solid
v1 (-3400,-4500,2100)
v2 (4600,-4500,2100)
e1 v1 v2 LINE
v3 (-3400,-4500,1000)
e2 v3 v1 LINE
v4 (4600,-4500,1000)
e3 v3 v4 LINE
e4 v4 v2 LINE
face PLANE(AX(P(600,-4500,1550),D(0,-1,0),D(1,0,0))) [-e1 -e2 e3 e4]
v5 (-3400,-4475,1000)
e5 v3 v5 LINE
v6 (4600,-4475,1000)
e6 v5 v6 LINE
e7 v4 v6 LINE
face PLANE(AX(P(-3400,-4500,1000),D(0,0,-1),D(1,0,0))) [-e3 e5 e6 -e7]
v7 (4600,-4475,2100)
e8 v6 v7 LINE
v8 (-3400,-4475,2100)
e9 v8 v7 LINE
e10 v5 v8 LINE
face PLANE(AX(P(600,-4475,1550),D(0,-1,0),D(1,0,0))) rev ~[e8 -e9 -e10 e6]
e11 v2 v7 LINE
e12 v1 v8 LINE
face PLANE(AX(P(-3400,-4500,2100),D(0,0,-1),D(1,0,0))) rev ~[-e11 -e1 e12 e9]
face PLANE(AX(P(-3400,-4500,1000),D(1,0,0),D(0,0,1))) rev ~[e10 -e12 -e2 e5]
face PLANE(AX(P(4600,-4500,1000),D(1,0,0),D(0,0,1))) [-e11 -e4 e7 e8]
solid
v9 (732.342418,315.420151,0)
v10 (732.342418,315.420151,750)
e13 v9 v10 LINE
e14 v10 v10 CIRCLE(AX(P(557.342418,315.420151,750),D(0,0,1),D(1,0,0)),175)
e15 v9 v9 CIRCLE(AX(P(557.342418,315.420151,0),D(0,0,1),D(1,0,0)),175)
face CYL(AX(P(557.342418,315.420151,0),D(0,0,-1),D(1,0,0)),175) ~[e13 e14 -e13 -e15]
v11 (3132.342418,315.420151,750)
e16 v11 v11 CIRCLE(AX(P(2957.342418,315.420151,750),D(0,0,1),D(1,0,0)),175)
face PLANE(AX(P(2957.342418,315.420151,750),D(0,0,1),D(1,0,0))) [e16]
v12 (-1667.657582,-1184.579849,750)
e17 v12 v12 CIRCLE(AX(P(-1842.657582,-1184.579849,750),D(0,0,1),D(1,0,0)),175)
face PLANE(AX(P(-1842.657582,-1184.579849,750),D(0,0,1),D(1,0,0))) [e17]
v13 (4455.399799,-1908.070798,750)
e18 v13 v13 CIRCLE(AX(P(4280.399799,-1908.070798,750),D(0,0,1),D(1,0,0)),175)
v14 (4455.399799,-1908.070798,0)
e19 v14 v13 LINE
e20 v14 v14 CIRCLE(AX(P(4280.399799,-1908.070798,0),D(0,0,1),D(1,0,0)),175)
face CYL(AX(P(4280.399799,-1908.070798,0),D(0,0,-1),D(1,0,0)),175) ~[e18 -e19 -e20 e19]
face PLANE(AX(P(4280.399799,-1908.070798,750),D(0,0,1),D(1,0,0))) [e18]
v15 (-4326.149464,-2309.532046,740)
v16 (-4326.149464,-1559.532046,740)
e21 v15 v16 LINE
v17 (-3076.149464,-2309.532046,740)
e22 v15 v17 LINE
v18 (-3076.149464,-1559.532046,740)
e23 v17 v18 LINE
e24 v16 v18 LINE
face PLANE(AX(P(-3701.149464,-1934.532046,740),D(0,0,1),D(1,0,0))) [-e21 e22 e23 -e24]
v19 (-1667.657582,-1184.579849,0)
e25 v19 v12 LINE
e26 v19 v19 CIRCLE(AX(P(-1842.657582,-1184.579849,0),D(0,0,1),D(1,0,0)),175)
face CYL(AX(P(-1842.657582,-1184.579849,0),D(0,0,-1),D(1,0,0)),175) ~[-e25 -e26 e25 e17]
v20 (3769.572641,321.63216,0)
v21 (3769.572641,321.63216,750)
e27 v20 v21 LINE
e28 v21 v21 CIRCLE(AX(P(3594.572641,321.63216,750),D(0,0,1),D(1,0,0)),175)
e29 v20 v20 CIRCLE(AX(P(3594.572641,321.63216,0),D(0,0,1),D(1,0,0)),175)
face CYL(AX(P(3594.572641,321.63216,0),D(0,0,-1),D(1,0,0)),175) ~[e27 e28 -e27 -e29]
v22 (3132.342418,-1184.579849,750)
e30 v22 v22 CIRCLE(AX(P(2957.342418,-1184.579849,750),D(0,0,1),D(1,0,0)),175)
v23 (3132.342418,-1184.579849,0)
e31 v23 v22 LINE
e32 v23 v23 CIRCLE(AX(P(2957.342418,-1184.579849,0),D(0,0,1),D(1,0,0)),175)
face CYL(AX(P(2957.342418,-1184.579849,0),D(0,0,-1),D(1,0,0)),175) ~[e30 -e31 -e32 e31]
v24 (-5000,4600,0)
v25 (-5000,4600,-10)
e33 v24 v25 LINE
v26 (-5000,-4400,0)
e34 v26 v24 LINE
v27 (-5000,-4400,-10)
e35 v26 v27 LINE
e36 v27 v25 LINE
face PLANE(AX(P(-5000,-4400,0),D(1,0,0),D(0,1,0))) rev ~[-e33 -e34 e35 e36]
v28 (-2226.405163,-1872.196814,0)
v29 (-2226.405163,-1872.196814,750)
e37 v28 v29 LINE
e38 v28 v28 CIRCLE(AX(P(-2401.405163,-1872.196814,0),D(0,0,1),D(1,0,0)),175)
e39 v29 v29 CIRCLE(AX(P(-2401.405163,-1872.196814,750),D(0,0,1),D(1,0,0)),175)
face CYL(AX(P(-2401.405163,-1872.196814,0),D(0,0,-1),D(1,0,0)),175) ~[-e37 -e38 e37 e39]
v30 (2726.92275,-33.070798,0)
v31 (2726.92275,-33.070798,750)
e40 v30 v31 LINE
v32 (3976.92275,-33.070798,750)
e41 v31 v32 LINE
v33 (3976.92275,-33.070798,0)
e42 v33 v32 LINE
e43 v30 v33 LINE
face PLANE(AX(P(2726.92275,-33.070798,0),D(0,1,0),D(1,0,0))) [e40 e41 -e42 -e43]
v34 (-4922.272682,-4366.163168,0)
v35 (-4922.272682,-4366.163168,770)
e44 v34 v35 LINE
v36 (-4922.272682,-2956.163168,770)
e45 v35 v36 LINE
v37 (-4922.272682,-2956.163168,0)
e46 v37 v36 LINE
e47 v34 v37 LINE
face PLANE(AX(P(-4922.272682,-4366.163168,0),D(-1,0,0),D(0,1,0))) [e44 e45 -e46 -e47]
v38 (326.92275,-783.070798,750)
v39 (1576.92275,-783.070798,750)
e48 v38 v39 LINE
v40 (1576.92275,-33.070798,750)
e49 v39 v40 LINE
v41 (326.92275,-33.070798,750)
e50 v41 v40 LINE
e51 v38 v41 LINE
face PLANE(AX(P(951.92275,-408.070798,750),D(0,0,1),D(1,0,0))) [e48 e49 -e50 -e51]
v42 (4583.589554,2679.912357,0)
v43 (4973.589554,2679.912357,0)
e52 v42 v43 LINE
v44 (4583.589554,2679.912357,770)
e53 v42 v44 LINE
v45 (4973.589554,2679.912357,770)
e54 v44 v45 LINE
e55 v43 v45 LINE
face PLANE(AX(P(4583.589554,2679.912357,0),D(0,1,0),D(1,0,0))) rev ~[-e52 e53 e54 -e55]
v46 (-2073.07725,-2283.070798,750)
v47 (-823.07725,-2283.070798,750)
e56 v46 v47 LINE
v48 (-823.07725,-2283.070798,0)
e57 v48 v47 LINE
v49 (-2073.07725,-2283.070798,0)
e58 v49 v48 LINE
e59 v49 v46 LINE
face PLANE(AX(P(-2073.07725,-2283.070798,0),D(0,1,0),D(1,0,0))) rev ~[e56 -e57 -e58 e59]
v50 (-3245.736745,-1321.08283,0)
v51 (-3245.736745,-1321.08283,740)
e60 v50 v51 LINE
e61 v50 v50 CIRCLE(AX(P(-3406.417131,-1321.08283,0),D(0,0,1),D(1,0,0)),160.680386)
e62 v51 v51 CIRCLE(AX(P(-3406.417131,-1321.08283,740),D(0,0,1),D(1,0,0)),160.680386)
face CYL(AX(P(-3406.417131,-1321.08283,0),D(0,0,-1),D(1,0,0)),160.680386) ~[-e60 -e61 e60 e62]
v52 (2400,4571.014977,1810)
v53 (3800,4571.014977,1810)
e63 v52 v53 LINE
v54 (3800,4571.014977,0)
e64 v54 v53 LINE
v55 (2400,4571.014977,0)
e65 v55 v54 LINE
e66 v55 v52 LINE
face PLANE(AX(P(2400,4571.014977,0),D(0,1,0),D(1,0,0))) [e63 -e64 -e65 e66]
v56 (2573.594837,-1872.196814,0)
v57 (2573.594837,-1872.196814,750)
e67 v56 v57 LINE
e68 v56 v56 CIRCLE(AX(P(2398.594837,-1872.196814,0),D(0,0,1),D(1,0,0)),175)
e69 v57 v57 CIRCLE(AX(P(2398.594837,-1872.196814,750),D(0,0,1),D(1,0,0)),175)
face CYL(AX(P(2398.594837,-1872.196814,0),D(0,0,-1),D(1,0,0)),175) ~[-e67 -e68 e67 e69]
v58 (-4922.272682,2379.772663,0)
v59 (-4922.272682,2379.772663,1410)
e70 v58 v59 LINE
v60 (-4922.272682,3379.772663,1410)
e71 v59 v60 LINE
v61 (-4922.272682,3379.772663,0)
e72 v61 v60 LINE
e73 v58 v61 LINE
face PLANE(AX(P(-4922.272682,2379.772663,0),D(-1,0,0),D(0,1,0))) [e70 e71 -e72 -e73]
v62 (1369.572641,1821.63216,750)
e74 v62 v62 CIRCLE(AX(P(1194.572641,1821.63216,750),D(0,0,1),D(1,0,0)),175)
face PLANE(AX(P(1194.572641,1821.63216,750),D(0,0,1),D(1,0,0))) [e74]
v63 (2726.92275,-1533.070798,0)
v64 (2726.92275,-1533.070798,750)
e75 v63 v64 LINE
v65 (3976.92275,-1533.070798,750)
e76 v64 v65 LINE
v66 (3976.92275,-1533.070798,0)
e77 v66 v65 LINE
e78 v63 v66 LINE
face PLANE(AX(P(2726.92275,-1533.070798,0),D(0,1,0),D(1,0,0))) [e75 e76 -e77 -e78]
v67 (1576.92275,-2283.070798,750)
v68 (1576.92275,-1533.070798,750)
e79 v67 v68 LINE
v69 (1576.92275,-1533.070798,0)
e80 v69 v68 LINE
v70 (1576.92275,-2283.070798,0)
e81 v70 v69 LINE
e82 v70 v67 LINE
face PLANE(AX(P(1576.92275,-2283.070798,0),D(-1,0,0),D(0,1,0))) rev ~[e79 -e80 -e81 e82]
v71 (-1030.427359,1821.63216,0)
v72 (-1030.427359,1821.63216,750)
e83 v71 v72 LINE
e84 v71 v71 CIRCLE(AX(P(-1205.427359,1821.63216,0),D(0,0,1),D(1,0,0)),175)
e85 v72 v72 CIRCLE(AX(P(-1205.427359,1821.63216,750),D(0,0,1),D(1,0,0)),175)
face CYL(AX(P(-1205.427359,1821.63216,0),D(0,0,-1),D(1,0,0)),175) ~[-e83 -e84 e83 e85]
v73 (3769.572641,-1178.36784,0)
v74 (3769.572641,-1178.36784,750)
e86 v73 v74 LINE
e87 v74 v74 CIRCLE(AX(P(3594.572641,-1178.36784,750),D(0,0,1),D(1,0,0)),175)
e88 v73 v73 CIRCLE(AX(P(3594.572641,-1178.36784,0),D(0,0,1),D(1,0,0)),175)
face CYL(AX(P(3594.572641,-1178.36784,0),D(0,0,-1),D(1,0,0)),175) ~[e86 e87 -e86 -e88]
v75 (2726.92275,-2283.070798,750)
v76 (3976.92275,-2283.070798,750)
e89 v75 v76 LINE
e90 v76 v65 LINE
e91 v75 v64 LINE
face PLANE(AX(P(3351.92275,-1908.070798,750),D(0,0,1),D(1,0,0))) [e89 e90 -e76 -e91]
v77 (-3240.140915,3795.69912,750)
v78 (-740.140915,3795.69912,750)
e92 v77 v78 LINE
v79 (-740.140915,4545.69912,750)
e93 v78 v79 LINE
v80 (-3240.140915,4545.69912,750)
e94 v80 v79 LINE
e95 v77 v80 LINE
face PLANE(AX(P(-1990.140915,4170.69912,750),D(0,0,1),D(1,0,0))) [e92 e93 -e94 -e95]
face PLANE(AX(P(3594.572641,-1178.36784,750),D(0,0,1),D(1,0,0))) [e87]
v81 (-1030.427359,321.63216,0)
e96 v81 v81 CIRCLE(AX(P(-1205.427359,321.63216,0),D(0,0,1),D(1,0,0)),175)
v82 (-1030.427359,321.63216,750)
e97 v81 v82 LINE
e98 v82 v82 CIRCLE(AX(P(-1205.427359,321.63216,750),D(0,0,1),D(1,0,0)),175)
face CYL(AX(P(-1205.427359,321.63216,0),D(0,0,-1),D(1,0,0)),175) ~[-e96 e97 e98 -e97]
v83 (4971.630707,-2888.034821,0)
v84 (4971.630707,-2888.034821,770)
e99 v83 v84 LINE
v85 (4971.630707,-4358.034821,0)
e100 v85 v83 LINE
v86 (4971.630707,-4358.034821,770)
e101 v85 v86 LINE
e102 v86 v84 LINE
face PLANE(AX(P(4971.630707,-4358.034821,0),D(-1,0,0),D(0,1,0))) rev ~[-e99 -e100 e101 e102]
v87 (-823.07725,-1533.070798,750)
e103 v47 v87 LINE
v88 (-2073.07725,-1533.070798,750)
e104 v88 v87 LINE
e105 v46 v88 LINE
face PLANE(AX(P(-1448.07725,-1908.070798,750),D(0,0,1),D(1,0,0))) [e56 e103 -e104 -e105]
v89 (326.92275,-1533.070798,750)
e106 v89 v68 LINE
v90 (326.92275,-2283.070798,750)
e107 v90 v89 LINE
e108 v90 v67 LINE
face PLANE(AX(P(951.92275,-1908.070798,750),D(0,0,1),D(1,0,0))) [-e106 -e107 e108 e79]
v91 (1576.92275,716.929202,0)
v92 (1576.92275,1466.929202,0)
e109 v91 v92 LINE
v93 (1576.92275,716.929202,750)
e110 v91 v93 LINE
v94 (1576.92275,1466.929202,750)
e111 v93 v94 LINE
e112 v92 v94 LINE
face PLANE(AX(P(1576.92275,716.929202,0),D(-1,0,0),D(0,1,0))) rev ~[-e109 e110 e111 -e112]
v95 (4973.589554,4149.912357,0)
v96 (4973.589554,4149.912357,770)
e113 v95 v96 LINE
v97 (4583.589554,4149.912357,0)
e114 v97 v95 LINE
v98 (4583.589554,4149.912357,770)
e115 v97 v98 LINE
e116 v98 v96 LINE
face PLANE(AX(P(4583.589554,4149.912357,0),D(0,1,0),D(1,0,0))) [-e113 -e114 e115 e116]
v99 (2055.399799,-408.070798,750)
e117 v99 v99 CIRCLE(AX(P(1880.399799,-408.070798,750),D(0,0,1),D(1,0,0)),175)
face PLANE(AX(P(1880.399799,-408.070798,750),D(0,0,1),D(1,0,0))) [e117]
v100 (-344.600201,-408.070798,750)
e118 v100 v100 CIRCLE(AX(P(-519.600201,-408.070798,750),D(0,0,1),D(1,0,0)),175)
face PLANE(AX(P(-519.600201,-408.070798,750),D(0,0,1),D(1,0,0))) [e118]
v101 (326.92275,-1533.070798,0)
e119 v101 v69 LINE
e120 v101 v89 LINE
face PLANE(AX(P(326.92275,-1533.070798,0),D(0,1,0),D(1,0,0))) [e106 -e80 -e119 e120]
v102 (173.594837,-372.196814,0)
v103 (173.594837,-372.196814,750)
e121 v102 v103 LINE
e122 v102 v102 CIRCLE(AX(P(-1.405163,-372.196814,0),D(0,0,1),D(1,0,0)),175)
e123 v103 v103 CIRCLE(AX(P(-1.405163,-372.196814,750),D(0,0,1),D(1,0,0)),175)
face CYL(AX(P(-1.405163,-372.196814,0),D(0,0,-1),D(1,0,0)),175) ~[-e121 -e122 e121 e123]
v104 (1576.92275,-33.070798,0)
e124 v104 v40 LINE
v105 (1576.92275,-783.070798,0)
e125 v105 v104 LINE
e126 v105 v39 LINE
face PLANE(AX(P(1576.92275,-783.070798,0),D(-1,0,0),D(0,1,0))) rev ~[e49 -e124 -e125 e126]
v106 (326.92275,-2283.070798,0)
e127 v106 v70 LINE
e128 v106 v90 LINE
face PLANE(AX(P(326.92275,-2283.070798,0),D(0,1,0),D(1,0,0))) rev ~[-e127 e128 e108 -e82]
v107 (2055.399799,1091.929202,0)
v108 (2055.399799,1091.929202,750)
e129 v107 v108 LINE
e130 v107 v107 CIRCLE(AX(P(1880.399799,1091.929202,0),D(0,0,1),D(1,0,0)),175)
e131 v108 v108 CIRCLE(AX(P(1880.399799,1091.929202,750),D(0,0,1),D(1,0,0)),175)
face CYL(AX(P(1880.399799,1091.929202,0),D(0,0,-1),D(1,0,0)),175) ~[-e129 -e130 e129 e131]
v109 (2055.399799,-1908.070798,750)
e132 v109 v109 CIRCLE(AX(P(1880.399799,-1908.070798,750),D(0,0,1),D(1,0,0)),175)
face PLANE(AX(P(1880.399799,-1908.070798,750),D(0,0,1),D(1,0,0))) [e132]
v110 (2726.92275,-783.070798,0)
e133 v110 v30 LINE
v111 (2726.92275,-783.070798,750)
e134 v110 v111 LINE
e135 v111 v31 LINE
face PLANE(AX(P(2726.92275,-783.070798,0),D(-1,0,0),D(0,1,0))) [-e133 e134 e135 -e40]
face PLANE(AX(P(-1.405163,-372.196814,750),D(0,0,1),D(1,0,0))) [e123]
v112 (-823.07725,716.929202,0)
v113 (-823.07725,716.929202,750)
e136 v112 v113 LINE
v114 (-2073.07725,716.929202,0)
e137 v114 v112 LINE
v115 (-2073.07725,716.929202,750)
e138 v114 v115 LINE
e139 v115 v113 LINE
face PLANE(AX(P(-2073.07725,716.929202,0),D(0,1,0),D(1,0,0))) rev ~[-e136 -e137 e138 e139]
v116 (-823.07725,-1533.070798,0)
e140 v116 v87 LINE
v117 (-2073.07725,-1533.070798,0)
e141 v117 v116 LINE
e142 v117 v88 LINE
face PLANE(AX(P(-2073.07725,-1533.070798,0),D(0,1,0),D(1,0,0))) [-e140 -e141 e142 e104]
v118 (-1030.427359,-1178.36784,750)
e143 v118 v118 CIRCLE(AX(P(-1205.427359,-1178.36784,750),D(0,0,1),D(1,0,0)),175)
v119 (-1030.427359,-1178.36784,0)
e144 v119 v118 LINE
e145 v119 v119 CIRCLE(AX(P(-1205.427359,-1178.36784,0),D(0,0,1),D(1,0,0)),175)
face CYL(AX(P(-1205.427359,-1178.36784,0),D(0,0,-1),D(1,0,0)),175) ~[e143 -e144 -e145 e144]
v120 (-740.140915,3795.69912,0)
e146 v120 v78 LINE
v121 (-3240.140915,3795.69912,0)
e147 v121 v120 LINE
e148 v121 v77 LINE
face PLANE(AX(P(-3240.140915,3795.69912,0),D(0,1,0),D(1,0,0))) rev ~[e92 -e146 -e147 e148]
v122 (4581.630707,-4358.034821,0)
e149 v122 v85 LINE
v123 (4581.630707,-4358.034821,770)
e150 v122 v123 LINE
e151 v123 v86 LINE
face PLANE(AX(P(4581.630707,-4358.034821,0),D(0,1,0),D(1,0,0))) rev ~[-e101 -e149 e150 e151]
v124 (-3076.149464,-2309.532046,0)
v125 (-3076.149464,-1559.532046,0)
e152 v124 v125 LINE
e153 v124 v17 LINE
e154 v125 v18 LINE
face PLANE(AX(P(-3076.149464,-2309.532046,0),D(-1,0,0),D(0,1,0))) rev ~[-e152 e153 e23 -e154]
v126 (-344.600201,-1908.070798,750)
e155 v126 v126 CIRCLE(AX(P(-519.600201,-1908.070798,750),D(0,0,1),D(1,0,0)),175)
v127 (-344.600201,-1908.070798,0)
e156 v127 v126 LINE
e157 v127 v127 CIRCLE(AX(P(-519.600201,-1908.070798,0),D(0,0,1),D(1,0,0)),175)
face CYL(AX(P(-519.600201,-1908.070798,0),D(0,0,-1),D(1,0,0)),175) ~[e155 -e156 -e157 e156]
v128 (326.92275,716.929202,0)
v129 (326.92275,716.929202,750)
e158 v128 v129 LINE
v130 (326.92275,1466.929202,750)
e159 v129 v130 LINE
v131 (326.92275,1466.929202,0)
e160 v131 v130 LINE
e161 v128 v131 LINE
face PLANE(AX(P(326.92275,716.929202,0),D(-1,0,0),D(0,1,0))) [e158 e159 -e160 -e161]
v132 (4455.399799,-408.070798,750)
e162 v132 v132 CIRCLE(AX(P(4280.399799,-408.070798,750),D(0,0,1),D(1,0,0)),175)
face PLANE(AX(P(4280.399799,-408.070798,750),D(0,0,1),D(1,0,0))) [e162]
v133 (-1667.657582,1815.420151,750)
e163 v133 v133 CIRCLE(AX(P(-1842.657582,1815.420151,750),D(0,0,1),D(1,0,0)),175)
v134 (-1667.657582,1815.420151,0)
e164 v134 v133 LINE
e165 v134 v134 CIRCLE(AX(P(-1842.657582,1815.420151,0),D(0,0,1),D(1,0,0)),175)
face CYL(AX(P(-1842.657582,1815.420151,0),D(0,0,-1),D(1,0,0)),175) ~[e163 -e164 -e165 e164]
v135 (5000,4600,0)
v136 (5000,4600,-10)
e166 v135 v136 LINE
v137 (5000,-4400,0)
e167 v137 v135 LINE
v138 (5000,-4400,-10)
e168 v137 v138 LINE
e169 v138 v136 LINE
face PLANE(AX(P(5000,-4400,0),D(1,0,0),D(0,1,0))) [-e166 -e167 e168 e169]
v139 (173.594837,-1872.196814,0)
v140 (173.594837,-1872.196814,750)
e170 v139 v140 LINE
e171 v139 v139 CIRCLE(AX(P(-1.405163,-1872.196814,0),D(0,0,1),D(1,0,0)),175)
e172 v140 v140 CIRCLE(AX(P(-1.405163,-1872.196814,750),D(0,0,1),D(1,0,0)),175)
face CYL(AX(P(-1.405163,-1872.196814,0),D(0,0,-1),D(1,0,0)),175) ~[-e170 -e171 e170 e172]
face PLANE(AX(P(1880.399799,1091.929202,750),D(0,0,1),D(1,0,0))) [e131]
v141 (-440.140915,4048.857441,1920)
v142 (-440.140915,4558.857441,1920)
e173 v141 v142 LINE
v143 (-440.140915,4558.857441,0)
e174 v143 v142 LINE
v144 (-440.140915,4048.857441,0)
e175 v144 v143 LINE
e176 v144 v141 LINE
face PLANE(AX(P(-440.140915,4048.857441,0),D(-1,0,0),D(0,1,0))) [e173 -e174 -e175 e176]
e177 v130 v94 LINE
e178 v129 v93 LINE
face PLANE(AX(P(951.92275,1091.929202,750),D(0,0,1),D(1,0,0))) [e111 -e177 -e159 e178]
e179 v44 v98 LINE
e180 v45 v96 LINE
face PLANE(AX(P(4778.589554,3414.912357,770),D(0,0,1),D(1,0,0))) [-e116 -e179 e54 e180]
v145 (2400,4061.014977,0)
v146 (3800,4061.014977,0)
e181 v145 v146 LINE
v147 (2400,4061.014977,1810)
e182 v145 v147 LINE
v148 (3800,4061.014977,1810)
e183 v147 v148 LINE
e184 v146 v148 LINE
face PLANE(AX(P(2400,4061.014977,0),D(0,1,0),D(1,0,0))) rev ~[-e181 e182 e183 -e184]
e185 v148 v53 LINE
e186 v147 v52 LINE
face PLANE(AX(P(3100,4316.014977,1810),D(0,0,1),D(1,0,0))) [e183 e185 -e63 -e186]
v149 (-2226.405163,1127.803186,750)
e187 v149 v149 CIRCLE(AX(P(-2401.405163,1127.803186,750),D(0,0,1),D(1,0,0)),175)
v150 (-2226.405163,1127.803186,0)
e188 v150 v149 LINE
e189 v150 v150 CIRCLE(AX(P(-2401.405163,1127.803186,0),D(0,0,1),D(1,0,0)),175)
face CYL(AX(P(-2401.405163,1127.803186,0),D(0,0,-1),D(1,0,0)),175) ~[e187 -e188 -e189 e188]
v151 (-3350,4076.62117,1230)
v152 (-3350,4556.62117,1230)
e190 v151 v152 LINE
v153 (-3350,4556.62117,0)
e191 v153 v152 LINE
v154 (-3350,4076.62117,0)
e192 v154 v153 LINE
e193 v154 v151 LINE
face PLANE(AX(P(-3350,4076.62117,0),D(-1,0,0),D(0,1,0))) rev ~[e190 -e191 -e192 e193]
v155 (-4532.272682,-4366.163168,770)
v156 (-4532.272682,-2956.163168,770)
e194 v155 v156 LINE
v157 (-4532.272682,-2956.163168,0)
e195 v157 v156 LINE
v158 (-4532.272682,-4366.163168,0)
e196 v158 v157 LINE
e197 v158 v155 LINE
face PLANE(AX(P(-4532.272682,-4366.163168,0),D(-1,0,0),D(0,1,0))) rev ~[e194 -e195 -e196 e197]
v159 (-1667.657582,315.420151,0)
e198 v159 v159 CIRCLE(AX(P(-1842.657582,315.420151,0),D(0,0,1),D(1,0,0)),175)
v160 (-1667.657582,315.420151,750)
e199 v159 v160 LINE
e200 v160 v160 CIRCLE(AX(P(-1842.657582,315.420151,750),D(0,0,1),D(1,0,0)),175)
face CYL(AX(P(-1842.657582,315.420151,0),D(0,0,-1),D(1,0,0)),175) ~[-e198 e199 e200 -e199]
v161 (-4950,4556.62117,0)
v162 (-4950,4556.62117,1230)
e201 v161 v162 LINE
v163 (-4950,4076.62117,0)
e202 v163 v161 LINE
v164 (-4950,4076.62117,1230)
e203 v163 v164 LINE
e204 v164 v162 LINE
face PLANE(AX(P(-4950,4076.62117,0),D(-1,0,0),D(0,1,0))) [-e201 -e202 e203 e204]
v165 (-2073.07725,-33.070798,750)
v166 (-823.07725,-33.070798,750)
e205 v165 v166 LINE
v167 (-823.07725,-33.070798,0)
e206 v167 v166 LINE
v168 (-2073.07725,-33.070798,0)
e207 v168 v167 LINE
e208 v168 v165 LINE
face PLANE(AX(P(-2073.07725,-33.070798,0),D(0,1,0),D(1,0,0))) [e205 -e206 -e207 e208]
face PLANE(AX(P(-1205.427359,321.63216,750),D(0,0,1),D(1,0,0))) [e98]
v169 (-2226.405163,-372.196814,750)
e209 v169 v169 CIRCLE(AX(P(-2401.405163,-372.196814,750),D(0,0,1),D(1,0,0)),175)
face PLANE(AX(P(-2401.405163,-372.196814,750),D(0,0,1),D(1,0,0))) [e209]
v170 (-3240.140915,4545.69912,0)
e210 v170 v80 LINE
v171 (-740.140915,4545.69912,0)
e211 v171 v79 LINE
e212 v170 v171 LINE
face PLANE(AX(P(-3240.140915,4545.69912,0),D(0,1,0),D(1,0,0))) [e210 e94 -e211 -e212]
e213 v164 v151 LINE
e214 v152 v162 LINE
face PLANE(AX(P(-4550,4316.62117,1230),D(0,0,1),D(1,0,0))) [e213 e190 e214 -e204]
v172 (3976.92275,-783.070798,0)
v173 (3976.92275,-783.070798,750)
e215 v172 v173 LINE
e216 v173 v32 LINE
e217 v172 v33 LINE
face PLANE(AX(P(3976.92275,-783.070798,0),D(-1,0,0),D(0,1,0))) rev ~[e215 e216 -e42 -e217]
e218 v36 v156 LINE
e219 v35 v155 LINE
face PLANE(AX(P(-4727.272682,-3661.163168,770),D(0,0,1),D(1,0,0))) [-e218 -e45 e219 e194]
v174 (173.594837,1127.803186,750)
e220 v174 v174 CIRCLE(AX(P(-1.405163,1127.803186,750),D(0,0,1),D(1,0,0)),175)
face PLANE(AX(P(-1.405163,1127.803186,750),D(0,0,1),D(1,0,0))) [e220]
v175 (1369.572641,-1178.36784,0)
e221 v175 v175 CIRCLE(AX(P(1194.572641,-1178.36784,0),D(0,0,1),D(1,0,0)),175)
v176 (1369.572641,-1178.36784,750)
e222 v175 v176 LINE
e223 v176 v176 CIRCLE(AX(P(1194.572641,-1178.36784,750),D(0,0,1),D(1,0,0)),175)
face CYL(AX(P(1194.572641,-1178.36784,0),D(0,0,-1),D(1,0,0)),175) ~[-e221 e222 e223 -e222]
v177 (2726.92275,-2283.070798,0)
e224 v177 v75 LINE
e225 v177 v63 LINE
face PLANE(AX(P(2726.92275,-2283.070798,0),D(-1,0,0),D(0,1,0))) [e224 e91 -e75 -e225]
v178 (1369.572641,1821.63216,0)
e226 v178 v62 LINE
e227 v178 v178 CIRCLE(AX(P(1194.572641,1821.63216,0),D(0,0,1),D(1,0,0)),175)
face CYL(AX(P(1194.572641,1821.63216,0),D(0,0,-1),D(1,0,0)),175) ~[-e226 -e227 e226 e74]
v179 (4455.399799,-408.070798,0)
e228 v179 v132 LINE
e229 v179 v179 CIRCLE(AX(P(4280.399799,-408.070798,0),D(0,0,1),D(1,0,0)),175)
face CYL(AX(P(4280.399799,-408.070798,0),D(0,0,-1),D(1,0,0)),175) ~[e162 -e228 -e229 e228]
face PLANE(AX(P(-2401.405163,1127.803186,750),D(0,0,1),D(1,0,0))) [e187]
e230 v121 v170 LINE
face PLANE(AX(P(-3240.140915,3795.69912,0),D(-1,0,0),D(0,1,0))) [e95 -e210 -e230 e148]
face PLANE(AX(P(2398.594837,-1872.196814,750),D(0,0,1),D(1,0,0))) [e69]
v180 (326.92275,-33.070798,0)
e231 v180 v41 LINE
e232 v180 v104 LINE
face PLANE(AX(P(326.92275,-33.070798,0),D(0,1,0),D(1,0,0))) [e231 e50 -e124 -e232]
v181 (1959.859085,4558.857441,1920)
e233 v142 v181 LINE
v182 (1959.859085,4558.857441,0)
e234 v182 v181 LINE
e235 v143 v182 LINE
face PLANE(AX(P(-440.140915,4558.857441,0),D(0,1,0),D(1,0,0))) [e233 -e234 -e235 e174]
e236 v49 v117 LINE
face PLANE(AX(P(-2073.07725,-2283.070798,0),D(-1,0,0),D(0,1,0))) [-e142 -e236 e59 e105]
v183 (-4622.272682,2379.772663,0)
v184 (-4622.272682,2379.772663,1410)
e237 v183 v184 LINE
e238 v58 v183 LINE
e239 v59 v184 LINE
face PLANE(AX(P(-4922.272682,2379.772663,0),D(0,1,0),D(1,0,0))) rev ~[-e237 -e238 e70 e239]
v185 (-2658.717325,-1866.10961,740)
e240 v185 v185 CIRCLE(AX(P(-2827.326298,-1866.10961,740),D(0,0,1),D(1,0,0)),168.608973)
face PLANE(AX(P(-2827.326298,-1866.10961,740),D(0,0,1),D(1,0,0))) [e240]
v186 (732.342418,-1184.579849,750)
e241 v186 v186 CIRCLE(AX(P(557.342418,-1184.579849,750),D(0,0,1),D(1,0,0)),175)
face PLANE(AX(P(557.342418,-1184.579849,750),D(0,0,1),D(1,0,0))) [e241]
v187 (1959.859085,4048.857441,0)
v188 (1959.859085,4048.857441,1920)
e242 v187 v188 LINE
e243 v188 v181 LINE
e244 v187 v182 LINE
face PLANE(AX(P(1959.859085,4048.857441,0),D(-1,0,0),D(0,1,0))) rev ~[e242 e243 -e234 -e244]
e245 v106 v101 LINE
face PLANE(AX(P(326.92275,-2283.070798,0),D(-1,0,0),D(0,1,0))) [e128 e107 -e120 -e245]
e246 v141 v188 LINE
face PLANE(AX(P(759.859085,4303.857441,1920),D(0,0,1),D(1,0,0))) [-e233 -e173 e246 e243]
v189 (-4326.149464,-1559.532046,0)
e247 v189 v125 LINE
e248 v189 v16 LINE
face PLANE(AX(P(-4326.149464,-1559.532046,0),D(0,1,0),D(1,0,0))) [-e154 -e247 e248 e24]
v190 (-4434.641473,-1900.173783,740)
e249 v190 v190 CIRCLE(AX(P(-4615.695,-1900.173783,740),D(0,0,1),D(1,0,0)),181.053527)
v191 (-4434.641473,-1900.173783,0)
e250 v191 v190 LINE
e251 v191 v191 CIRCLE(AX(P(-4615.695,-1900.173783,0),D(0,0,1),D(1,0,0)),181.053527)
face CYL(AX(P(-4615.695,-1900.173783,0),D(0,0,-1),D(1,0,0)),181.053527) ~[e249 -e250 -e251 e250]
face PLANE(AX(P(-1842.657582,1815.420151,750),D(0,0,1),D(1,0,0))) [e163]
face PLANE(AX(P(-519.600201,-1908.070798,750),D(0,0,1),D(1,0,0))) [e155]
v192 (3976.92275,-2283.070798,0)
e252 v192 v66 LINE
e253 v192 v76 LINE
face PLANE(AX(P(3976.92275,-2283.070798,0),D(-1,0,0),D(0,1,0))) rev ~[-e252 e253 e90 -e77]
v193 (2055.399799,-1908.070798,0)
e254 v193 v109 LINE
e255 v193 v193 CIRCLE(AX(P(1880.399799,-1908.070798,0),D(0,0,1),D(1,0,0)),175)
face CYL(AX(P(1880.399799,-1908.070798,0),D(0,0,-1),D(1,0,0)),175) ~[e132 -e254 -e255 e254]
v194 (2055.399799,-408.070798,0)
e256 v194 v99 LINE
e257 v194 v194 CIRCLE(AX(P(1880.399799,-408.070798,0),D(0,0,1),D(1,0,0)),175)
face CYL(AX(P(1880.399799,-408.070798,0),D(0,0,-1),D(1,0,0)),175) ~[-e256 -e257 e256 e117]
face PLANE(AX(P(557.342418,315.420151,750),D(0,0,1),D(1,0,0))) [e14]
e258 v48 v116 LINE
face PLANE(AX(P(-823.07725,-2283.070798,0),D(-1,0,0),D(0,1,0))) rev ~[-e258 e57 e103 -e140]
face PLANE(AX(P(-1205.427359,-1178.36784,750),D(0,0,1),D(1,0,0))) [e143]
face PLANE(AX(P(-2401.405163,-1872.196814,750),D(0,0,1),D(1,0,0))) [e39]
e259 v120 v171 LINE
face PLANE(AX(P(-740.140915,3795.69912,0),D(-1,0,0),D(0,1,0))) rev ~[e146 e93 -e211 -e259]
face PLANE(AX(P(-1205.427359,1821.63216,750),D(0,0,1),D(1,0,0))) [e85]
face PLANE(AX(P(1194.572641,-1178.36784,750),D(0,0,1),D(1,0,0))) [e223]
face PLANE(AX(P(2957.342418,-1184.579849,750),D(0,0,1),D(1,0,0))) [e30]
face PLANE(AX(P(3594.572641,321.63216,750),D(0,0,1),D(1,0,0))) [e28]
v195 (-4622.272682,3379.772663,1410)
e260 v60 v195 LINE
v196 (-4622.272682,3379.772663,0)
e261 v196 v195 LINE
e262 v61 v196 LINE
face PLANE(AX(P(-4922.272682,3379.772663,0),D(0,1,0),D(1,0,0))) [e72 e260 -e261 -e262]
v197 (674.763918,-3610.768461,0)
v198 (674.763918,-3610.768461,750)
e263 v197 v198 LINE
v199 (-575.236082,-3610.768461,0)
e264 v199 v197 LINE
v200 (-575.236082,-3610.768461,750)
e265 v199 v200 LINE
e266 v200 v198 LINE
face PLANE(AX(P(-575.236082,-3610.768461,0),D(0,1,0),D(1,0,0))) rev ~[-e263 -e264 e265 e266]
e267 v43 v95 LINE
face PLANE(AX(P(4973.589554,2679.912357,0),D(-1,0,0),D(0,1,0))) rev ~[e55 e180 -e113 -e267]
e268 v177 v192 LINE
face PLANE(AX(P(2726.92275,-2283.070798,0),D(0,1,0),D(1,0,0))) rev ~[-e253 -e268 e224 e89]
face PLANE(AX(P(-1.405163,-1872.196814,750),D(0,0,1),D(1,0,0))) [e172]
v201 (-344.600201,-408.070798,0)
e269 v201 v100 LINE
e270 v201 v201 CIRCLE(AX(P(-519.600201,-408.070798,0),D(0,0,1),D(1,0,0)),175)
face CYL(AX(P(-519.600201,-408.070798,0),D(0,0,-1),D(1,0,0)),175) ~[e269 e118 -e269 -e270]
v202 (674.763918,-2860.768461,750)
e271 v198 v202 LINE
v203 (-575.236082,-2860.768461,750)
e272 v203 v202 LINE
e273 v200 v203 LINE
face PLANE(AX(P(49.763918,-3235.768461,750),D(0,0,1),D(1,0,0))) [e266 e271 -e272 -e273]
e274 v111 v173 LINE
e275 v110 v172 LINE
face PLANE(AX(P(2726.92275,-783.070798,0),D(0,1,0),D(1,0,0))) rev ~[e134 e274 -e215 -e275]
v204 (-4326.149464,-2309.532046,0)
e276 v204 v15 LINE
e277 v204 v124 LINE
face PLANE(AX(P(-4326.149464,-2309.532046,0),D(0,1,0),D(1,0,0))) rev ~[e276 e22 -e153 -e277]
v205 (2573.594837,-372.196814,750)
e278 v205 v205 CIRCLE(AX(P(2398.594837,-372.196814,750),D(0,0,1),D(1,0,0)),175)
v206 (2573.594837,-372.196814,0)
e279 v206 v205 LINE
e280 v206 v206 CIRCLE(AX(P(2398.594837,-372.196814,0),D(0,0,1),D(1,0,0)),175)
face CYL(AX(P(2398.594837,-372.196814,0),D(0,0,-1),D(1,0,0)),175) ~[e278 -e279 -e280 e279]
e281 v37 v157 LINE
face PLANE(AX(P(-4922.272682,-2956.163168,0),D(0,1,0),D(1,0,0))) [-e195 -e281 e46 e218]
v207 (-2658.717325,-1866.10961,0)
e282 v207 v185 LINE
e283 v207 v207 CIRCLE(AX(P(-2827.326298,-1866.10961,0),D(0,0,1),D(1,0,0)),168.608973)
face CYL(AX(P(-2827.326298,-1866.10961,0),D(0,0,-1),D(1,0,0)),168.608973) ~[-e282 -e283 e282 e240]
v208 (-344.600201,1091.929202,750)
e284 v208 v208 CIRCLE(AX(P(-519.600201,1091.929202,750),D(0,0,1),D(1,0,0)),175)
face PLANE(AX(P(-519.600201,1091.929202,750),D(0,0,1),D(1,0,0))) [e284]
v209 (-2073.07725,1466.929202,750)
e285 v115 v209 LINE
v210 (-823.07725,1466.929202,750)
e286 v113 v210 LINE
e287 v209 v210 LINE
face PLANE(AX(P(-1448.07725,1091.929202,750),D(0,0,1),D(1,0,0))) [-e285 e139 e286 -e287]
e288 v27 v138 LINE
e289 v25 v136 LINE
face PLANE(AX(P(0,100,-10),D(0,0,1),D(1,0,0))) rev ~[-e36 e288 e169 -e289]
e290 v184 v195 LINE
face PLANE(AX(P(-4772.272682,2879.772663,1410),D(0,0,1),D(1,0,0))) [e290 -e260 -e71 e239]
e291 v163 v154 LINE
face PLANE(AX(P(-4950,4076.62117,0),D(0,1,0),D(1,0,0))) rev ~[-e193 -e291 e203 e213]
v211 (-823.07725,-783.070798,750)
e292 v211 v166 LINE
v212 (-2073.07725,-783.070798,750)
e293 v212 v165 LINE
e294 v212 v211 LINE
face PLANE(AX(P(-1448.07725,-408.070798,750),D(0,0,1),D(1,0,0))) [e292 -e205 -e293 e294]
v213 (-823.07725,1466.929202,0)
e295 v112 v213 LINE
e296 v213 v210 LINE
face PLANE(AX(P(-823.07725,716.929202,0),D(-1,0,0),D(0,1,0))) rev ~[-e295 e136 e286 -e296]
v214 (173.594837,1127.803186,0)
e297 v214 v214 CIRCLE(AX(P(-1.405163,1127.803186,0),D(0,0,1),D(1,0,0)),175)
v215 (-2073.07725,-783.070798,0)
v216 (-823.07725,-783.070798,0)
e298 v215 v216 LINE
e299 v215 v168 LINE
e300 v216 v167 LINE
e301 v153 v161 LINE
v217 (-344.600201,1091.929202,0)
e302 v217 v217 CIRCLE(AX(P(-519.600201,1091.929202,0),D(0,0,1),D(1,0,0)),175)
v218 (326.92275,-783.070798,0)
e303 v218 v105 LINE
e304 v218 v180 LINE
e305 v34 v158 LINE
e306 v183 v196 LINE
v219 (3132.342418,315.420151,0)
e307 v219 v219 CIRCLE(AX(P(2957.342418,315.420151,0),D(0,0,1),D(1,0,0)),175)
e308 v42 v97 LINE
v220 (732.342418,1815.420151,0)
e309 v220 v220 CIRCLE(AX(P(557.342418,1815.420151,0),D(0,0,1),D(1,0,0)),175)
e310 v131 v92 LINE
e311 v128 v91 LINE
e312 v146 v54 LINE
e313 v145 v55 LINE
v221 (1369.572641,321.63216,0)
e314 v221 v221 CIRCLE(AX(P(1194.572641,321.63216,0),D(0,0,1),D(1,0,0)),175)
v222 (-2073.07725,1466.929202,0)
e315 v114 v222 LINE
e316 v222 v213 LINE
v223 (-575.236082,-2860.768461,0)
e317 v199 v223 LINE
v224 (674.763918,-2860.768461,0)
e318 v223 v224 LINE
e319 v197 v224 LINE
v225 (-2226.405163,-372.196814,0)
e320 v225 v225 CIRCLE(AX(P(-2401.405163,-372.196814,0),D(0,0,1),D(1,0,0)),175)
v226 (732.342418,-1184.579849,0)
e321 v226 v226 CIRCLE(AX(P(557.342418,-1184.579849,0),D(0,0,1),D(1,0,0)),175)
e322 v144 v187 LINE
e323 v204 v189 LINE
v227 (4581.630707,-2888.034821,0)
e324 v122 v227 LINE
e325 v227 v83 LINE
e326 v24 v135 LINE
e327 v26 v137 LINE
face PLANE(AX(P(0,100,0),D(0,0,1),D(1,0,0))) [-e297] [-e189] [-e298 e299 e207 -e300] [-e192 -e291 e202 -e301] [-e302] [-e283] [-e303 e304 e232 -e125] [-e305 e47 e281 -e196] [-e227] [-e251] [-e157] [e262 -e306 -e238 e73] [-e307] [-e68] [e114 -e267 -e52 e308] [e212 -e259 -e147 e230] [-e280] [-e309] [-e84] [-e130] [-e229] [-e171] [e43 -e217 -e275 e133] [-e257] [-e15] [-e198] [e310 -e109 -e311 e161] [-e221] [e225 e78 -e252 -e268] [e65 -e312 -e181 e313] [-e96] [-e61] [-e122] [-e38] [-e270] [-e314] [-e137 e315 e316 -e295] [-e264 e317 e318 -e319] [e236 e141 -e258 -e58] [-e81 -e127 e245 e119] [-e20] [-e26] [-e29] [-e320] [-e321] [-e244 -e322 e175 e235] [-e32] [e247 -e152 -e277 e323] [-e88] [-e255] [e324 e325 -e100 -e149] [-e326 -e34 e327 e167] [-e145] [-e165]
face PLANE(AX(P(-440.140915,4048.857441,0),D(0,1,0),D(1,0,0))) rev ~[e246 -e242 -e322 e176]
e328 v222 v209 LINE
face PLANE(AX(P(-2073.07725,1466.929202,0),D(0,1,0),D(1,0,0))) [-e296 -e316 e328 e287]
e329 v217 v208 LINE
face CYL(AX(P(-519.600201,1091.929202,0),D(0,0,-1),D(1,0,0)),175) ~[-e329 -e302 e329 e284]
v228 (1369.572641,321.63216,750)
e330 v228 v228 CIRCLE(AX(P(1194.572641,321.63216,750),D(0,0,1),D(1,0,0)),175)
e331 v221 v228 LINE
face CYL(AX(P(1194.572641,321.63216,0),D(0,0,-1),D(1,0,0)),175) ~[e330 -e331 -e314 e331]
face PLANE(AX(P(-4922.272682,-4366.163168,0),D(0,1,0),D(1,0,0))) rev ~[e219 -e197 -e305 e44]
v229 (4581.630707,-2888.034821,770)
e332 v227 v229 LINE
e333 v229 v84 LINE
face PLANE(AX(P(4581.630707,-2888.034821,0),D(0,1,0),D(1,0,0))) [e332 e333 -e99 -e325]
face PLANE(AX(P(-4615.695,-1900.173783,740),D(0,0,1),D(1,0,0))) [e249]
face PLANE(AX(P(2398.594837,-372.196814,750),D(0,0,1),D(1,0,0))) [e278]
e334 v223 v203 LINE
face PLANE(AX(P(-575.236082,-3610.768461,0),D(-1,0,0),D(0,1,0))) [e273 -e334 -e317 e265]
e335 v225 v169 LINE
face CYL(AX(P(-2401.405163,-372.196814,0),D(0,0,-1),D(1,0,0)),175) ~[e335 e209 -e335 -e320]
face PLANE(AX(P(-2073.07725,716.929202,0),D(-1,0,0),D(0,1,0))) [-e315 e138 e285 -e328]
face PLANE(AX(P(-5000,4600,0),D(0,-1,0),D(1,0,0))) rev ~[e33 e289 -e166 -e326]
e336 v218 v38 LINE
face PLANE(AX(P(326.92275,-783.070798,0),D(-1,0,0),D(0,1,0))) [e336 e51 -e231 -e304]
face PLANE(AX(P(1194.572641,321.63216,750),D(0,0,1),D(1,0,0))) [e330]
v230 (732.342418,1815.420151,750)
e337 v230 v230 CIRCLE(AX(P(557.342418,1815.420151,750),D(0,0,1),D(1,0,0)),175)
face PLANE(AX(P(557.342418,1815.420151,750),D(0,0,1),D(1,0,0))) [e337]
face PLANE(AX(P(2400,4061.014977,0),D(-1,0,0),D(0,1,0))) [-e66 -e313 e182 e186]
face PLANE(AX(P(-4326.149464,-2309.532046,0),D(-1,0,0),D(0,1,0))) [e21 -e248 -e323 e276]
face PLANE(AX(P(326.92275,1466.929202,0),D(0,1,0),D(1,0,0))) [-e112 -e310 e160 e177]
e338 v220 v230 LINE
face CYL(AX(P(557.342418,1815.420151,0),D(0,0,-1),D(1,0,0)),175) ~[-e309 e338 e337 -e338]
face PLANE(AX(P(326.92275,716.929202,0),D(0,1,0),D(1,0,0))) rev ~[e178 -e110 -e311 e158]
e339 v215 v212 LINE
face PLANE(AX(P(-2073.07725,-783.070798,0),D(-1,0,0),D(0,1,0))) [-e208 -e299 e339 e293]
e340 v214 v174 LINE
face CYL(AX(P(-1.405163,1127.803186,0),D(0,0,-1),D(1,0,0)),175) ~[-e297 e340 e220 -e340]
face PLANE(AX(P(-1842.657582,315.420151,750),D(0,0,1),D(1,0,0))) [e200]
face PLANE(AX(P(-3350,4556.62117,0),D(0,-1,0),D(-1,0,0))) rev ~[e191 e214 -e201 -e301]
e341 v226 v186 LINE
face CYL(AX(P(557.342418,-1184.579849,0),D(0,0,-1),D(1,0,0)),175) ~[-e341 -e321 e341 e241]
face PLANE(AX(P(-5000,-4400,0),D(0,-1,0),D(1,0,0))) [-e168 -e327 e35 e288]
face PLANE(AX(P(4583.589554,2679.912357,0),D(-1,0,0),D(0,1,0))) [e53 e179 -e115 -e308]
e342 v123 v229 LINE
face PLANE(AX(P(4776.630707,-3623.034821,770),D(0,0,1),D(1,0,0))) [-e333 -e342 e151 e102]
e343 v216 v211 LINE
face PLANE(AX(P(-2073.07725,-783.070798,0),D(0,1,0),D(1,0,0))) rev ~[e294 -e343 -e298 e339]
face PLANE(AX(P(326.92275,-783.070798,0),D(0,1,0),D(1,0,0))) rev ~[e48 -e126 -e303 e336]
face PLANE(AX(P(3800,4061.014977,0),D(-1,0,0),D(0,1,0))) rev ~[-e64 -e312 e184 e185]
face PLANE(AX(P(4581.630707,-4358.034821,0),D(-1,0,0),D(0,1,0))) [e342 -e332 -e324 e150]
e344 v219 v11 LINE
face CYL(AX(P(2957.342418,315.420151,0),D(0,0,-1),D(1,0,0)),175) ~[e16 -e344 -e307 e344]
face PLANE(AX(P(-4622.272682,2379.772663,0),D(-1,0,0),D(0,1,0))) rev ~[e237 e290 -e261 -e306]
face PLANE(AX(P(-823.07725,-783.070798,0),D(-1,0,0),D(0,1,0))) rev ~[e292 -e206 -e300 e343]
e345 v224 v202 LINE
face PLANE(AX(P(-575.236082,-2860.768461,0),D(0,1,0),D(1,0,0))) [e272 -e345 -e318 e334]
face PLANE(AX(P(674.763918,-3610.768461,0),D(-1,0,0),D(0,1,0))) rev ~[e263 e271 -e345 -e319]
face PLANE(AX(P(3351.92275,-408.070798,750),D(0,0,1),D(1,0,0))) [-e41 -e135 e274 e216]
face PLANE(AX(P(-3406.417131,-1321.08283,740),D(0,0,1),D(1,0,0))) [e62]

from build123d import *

# Parameters (mm, degrees)
F0_W      = 10000
F0_H      = 9000
F1_DEPTH  = 10
F2_W      = 1250
F2_H      = 750
F2_R      = 175
F3_DEPTH  = 750
F5_W      = 8000
F5_H      = 1100
F6_DEPTH  = 25
F7_W      = 800
F7_H      = 480
F8_DEPTH  = 1230
F9_W      = 1400
F9_H      = 510
F10_DEPTH = 1810
F12_W     = 2500
F12_H     = 750
F13_DEPTH = 750
F14_W     = 1250
F14_H     = 750
F15_DEPTH = 740
F16_R     = 168.608973
F16_R_2   = 160.680386
F16_R_3   = 181.053527
F17_DEPTH = 740
F18_W     = 2400
F18_H     = 510
F19_DEPTH = 1920
F20_W     = 390
F20_H     = 1470
F21_DEPTH = 770
F22_W     = 390
F22_H     = 1470
F23_DEPTH = 770
F25_W     = 300
F25_H     = 1000
F26_DEPTH = 1410
F27_W     = 390
F27_H     = 1410
F28_DEPTH = 770


with BuildPart() as f1:
    # F0 (on Top) → F1 (new body)
    with BuildSketch(Plane.XY):
        Rectangle(F0_W, F0_H)
    extrude(amount=-F1_DEPTH)

    # F2 (on Top) → F3 (join)
    with BuildSketch(Plane.XY):
        with Locations((49.763918, -3335.768461)):
            Rectangle(F2_W, F2_H)
        with Locations((3351.92275, -2008.070798)):
            Rectangle(F2_W, F2_H)
        with Locations((3594.572641, -1278.36784)):
            Circle(F2_R)
        with Locations((2398.594837, -1972.196814)):
            Circle(F2_R)
        with Locations((2957.342418, -1284.579849)):
            Circle(F2_R)
        with Locations((4280.399799, -2008.070798)):
            Circle(F2_R)
        with Locations((3594.572641, 221.63216)):
            Circle(F2_R)
        with Locations((4280.399799, -508.070798)):
            Circle(F2_R)
        with Locations((3351.92275, -508.070798)):
            Rectangle(F2_W, F2_H)
        with Locations((2957.342418, 215.420151)):
            Circle(F2_R)
        with Locations((2398.594837, -472.196814)):
            Circle(F2_R)
        with Locations((1194.572641, -1278.36784)):
            Circle(F2_R)
        with Locations((1880.399799, -2008.070798)):
            Circle(F2_R)
        with Locations((951.92275, -2008.070798)):
            Rectangle(F2_W, F2_H)
        with Locations((557.342418, -1284.579849)):
            Circle(F2_R)
        with Locations((-1.405163, -1972.196814)):
            Circle(F2_R)
        with Locations((1194.572641, 221.63216)):
            Circle(F2_R)
        with Locations((1880.399799, -508.070798)):
            Circle(F2_R)
        with Locations((951.92275, -508.070798)):
            Rectangle(F2_W, F2_H)
        with Locations((557.342418, 215.420151)):
            Circle(F2_R)
        with Locations((-1.405163, -472.196814)):
            Circle(F2_R)
        with Locations((1194.572641, 1721.63216)):
            Circle(F2_R)
        with Locations((1880.399799, 991.929202)):
            Circle(F2_R)
        with Locations((951.92275, 991.929202)):
            Rectangle(F2_W, F2_H)
        with Locations((557.342418, 1715.420151)):
            Circle(F2_R)
        with Locations((-1.405163, 1027.803186)):
            Circle(F2_R)
        with Locations((-1205.427359, -1278.36784)):
            Circle(F2_R)
        with Locations((-519.600201, -2008.070798)):
            Circle(F2_R)
        with Locations((-1448.07725, -2008.070798)):
            Rectangle(F2_W, F2_H)
        with Locations((-1842.657582, -1284.579849)):
            Circle(F2_R)
        with Locations((-2401.405163, -1972.196814)):
            Circle(F2_R)
        with Locations((-1205.427359, 221.63216)):
            Circle(F2_R)
        with Locations((-519.600201, -508.070798)):
            Circle(F2_R)
        with Locations((-1448.07725, -508.070798)):
            Rectangle(F2_W, F2_H)
        with Locations((-1842.657582, 215.420151)):
            Circle(F2_R)
        with Locations((-2401.405163, -472.196814)):
            Circle(F2_R)
        with Locations((-1205.427359, 1721.63216)):
            Circle(F2_R)
        with Locations((-519.600201, 991.929202)):
            Circle(F2_R)
        with Locations((-1448.07725, 991.929202)):
            Rectangle(F2_W, F2_H)
        with Locations((-1842.657582, 1715.420151)):
            Circle(F2_R)
        with Locations((-2401.405163, 1027.803186)):
            Circle(F2_R)
    extrude(amount=F3_DEPTH)

    # F7 (on Top) → F8 (join)
    with BuildSketch(Plane.XY):
        with Locations((-4550, 4216.62117)):
            Rectangle(F7_W, F7_H)
        with Locations((-3750, 4216.62117)):
            Rectangle(F7_W, F7_H)
    extrude(amount=F8_DEPTH)

    # F9 (on Top) → F10 (join)
    with BuildSketch(Plane.XY):
        with Locations((3100, 4216.014977)):
            Rectangle(F9_W, F9_H)
    extrude(amount=F10_DEPTH)


with BuildPart() as f6:
    # F5 (on offset) → F6 (new body)
    with BuildSketch(Plane.XZ.offset(4500)):
        with Locations((600, 1550)):
            Rectangle(F5_W, F5_H)
    extrude(amount=-F6_DEPTH)


with BuildPart() as f1_1:
    # F11: moved
    add(f1.part.moved(Location((0, 100, 0))))

    # F12 (on Top) → F13 (join)
    with BuildSketch(Plane.XY):
        with Locations((-1990.140915, 4170.69912)):
            Rectangle(F12_W, F12_H)
    extrude(amount=F13_DEPTH)

    # F14 (on Top) → F15 (join)
    with BuildSketch(Plane.XY):
        with Locations((-3701.149464, -1934.532046)):
            Rectangle(F14_W, F14_H)
    extrude(amount=F15_DEPTH)

    # F16 (on Top) → F17 (join)
    with BuildSketch(Plane.XY):
        with Locations((-2827.326298, -1866.10961)):
            Circle(F16_R)
        with Locations((-3406.417131, -1321.08283)):
            Circle(F16_R_2)
        with Locations((-4615.695, -1900.173783)):
            Circle(F16_R_3)
    extrude(amount=F17_DEPTH)

    # F18 (on Top) → F19 (join)
    with BuildSketch(Plane.XY):
        with Locations((759.859085, 4303.857441)):
            Rectangle(F18_W, F18_H)
    extrude(amount=F19_DEPTH)

    # F20 (on Top) → F21 (join)
    with BuildSketch(Plane.XY):
        with Locations((4778.589554, 3414.912357)):
            Rectangle(F20_W, F20_H)
    extrude(amount=F21_DEPTH)

    # F22 (on Top) → F23 (join)
    with BuildSketch(Plane.XY):
        with Locations((4776.630707, -3623.034821)):
            Rectangle(F22_W, F22_H)
    extrude(amount=F23_DEPTH)

    # F25 (on Top) → F26 (join)
    with BuildSketch(Plane.XY):
        with Locations((-4772.272682, 2879.772663)):
            Rectangle(F25_W, F25_H)
    extrude(amount=F26_DEPTH)

    # F27 (on Top) → F28 (join)
    with BuildSketch(Plane.XY):
        with Locations((-4727.272682, -3661.163168)):
            Rectangle(F27_W, F27_H)
    extrude(amount=F28_DEPTH)


solid = Compound([f6.part, f1_1.part])
